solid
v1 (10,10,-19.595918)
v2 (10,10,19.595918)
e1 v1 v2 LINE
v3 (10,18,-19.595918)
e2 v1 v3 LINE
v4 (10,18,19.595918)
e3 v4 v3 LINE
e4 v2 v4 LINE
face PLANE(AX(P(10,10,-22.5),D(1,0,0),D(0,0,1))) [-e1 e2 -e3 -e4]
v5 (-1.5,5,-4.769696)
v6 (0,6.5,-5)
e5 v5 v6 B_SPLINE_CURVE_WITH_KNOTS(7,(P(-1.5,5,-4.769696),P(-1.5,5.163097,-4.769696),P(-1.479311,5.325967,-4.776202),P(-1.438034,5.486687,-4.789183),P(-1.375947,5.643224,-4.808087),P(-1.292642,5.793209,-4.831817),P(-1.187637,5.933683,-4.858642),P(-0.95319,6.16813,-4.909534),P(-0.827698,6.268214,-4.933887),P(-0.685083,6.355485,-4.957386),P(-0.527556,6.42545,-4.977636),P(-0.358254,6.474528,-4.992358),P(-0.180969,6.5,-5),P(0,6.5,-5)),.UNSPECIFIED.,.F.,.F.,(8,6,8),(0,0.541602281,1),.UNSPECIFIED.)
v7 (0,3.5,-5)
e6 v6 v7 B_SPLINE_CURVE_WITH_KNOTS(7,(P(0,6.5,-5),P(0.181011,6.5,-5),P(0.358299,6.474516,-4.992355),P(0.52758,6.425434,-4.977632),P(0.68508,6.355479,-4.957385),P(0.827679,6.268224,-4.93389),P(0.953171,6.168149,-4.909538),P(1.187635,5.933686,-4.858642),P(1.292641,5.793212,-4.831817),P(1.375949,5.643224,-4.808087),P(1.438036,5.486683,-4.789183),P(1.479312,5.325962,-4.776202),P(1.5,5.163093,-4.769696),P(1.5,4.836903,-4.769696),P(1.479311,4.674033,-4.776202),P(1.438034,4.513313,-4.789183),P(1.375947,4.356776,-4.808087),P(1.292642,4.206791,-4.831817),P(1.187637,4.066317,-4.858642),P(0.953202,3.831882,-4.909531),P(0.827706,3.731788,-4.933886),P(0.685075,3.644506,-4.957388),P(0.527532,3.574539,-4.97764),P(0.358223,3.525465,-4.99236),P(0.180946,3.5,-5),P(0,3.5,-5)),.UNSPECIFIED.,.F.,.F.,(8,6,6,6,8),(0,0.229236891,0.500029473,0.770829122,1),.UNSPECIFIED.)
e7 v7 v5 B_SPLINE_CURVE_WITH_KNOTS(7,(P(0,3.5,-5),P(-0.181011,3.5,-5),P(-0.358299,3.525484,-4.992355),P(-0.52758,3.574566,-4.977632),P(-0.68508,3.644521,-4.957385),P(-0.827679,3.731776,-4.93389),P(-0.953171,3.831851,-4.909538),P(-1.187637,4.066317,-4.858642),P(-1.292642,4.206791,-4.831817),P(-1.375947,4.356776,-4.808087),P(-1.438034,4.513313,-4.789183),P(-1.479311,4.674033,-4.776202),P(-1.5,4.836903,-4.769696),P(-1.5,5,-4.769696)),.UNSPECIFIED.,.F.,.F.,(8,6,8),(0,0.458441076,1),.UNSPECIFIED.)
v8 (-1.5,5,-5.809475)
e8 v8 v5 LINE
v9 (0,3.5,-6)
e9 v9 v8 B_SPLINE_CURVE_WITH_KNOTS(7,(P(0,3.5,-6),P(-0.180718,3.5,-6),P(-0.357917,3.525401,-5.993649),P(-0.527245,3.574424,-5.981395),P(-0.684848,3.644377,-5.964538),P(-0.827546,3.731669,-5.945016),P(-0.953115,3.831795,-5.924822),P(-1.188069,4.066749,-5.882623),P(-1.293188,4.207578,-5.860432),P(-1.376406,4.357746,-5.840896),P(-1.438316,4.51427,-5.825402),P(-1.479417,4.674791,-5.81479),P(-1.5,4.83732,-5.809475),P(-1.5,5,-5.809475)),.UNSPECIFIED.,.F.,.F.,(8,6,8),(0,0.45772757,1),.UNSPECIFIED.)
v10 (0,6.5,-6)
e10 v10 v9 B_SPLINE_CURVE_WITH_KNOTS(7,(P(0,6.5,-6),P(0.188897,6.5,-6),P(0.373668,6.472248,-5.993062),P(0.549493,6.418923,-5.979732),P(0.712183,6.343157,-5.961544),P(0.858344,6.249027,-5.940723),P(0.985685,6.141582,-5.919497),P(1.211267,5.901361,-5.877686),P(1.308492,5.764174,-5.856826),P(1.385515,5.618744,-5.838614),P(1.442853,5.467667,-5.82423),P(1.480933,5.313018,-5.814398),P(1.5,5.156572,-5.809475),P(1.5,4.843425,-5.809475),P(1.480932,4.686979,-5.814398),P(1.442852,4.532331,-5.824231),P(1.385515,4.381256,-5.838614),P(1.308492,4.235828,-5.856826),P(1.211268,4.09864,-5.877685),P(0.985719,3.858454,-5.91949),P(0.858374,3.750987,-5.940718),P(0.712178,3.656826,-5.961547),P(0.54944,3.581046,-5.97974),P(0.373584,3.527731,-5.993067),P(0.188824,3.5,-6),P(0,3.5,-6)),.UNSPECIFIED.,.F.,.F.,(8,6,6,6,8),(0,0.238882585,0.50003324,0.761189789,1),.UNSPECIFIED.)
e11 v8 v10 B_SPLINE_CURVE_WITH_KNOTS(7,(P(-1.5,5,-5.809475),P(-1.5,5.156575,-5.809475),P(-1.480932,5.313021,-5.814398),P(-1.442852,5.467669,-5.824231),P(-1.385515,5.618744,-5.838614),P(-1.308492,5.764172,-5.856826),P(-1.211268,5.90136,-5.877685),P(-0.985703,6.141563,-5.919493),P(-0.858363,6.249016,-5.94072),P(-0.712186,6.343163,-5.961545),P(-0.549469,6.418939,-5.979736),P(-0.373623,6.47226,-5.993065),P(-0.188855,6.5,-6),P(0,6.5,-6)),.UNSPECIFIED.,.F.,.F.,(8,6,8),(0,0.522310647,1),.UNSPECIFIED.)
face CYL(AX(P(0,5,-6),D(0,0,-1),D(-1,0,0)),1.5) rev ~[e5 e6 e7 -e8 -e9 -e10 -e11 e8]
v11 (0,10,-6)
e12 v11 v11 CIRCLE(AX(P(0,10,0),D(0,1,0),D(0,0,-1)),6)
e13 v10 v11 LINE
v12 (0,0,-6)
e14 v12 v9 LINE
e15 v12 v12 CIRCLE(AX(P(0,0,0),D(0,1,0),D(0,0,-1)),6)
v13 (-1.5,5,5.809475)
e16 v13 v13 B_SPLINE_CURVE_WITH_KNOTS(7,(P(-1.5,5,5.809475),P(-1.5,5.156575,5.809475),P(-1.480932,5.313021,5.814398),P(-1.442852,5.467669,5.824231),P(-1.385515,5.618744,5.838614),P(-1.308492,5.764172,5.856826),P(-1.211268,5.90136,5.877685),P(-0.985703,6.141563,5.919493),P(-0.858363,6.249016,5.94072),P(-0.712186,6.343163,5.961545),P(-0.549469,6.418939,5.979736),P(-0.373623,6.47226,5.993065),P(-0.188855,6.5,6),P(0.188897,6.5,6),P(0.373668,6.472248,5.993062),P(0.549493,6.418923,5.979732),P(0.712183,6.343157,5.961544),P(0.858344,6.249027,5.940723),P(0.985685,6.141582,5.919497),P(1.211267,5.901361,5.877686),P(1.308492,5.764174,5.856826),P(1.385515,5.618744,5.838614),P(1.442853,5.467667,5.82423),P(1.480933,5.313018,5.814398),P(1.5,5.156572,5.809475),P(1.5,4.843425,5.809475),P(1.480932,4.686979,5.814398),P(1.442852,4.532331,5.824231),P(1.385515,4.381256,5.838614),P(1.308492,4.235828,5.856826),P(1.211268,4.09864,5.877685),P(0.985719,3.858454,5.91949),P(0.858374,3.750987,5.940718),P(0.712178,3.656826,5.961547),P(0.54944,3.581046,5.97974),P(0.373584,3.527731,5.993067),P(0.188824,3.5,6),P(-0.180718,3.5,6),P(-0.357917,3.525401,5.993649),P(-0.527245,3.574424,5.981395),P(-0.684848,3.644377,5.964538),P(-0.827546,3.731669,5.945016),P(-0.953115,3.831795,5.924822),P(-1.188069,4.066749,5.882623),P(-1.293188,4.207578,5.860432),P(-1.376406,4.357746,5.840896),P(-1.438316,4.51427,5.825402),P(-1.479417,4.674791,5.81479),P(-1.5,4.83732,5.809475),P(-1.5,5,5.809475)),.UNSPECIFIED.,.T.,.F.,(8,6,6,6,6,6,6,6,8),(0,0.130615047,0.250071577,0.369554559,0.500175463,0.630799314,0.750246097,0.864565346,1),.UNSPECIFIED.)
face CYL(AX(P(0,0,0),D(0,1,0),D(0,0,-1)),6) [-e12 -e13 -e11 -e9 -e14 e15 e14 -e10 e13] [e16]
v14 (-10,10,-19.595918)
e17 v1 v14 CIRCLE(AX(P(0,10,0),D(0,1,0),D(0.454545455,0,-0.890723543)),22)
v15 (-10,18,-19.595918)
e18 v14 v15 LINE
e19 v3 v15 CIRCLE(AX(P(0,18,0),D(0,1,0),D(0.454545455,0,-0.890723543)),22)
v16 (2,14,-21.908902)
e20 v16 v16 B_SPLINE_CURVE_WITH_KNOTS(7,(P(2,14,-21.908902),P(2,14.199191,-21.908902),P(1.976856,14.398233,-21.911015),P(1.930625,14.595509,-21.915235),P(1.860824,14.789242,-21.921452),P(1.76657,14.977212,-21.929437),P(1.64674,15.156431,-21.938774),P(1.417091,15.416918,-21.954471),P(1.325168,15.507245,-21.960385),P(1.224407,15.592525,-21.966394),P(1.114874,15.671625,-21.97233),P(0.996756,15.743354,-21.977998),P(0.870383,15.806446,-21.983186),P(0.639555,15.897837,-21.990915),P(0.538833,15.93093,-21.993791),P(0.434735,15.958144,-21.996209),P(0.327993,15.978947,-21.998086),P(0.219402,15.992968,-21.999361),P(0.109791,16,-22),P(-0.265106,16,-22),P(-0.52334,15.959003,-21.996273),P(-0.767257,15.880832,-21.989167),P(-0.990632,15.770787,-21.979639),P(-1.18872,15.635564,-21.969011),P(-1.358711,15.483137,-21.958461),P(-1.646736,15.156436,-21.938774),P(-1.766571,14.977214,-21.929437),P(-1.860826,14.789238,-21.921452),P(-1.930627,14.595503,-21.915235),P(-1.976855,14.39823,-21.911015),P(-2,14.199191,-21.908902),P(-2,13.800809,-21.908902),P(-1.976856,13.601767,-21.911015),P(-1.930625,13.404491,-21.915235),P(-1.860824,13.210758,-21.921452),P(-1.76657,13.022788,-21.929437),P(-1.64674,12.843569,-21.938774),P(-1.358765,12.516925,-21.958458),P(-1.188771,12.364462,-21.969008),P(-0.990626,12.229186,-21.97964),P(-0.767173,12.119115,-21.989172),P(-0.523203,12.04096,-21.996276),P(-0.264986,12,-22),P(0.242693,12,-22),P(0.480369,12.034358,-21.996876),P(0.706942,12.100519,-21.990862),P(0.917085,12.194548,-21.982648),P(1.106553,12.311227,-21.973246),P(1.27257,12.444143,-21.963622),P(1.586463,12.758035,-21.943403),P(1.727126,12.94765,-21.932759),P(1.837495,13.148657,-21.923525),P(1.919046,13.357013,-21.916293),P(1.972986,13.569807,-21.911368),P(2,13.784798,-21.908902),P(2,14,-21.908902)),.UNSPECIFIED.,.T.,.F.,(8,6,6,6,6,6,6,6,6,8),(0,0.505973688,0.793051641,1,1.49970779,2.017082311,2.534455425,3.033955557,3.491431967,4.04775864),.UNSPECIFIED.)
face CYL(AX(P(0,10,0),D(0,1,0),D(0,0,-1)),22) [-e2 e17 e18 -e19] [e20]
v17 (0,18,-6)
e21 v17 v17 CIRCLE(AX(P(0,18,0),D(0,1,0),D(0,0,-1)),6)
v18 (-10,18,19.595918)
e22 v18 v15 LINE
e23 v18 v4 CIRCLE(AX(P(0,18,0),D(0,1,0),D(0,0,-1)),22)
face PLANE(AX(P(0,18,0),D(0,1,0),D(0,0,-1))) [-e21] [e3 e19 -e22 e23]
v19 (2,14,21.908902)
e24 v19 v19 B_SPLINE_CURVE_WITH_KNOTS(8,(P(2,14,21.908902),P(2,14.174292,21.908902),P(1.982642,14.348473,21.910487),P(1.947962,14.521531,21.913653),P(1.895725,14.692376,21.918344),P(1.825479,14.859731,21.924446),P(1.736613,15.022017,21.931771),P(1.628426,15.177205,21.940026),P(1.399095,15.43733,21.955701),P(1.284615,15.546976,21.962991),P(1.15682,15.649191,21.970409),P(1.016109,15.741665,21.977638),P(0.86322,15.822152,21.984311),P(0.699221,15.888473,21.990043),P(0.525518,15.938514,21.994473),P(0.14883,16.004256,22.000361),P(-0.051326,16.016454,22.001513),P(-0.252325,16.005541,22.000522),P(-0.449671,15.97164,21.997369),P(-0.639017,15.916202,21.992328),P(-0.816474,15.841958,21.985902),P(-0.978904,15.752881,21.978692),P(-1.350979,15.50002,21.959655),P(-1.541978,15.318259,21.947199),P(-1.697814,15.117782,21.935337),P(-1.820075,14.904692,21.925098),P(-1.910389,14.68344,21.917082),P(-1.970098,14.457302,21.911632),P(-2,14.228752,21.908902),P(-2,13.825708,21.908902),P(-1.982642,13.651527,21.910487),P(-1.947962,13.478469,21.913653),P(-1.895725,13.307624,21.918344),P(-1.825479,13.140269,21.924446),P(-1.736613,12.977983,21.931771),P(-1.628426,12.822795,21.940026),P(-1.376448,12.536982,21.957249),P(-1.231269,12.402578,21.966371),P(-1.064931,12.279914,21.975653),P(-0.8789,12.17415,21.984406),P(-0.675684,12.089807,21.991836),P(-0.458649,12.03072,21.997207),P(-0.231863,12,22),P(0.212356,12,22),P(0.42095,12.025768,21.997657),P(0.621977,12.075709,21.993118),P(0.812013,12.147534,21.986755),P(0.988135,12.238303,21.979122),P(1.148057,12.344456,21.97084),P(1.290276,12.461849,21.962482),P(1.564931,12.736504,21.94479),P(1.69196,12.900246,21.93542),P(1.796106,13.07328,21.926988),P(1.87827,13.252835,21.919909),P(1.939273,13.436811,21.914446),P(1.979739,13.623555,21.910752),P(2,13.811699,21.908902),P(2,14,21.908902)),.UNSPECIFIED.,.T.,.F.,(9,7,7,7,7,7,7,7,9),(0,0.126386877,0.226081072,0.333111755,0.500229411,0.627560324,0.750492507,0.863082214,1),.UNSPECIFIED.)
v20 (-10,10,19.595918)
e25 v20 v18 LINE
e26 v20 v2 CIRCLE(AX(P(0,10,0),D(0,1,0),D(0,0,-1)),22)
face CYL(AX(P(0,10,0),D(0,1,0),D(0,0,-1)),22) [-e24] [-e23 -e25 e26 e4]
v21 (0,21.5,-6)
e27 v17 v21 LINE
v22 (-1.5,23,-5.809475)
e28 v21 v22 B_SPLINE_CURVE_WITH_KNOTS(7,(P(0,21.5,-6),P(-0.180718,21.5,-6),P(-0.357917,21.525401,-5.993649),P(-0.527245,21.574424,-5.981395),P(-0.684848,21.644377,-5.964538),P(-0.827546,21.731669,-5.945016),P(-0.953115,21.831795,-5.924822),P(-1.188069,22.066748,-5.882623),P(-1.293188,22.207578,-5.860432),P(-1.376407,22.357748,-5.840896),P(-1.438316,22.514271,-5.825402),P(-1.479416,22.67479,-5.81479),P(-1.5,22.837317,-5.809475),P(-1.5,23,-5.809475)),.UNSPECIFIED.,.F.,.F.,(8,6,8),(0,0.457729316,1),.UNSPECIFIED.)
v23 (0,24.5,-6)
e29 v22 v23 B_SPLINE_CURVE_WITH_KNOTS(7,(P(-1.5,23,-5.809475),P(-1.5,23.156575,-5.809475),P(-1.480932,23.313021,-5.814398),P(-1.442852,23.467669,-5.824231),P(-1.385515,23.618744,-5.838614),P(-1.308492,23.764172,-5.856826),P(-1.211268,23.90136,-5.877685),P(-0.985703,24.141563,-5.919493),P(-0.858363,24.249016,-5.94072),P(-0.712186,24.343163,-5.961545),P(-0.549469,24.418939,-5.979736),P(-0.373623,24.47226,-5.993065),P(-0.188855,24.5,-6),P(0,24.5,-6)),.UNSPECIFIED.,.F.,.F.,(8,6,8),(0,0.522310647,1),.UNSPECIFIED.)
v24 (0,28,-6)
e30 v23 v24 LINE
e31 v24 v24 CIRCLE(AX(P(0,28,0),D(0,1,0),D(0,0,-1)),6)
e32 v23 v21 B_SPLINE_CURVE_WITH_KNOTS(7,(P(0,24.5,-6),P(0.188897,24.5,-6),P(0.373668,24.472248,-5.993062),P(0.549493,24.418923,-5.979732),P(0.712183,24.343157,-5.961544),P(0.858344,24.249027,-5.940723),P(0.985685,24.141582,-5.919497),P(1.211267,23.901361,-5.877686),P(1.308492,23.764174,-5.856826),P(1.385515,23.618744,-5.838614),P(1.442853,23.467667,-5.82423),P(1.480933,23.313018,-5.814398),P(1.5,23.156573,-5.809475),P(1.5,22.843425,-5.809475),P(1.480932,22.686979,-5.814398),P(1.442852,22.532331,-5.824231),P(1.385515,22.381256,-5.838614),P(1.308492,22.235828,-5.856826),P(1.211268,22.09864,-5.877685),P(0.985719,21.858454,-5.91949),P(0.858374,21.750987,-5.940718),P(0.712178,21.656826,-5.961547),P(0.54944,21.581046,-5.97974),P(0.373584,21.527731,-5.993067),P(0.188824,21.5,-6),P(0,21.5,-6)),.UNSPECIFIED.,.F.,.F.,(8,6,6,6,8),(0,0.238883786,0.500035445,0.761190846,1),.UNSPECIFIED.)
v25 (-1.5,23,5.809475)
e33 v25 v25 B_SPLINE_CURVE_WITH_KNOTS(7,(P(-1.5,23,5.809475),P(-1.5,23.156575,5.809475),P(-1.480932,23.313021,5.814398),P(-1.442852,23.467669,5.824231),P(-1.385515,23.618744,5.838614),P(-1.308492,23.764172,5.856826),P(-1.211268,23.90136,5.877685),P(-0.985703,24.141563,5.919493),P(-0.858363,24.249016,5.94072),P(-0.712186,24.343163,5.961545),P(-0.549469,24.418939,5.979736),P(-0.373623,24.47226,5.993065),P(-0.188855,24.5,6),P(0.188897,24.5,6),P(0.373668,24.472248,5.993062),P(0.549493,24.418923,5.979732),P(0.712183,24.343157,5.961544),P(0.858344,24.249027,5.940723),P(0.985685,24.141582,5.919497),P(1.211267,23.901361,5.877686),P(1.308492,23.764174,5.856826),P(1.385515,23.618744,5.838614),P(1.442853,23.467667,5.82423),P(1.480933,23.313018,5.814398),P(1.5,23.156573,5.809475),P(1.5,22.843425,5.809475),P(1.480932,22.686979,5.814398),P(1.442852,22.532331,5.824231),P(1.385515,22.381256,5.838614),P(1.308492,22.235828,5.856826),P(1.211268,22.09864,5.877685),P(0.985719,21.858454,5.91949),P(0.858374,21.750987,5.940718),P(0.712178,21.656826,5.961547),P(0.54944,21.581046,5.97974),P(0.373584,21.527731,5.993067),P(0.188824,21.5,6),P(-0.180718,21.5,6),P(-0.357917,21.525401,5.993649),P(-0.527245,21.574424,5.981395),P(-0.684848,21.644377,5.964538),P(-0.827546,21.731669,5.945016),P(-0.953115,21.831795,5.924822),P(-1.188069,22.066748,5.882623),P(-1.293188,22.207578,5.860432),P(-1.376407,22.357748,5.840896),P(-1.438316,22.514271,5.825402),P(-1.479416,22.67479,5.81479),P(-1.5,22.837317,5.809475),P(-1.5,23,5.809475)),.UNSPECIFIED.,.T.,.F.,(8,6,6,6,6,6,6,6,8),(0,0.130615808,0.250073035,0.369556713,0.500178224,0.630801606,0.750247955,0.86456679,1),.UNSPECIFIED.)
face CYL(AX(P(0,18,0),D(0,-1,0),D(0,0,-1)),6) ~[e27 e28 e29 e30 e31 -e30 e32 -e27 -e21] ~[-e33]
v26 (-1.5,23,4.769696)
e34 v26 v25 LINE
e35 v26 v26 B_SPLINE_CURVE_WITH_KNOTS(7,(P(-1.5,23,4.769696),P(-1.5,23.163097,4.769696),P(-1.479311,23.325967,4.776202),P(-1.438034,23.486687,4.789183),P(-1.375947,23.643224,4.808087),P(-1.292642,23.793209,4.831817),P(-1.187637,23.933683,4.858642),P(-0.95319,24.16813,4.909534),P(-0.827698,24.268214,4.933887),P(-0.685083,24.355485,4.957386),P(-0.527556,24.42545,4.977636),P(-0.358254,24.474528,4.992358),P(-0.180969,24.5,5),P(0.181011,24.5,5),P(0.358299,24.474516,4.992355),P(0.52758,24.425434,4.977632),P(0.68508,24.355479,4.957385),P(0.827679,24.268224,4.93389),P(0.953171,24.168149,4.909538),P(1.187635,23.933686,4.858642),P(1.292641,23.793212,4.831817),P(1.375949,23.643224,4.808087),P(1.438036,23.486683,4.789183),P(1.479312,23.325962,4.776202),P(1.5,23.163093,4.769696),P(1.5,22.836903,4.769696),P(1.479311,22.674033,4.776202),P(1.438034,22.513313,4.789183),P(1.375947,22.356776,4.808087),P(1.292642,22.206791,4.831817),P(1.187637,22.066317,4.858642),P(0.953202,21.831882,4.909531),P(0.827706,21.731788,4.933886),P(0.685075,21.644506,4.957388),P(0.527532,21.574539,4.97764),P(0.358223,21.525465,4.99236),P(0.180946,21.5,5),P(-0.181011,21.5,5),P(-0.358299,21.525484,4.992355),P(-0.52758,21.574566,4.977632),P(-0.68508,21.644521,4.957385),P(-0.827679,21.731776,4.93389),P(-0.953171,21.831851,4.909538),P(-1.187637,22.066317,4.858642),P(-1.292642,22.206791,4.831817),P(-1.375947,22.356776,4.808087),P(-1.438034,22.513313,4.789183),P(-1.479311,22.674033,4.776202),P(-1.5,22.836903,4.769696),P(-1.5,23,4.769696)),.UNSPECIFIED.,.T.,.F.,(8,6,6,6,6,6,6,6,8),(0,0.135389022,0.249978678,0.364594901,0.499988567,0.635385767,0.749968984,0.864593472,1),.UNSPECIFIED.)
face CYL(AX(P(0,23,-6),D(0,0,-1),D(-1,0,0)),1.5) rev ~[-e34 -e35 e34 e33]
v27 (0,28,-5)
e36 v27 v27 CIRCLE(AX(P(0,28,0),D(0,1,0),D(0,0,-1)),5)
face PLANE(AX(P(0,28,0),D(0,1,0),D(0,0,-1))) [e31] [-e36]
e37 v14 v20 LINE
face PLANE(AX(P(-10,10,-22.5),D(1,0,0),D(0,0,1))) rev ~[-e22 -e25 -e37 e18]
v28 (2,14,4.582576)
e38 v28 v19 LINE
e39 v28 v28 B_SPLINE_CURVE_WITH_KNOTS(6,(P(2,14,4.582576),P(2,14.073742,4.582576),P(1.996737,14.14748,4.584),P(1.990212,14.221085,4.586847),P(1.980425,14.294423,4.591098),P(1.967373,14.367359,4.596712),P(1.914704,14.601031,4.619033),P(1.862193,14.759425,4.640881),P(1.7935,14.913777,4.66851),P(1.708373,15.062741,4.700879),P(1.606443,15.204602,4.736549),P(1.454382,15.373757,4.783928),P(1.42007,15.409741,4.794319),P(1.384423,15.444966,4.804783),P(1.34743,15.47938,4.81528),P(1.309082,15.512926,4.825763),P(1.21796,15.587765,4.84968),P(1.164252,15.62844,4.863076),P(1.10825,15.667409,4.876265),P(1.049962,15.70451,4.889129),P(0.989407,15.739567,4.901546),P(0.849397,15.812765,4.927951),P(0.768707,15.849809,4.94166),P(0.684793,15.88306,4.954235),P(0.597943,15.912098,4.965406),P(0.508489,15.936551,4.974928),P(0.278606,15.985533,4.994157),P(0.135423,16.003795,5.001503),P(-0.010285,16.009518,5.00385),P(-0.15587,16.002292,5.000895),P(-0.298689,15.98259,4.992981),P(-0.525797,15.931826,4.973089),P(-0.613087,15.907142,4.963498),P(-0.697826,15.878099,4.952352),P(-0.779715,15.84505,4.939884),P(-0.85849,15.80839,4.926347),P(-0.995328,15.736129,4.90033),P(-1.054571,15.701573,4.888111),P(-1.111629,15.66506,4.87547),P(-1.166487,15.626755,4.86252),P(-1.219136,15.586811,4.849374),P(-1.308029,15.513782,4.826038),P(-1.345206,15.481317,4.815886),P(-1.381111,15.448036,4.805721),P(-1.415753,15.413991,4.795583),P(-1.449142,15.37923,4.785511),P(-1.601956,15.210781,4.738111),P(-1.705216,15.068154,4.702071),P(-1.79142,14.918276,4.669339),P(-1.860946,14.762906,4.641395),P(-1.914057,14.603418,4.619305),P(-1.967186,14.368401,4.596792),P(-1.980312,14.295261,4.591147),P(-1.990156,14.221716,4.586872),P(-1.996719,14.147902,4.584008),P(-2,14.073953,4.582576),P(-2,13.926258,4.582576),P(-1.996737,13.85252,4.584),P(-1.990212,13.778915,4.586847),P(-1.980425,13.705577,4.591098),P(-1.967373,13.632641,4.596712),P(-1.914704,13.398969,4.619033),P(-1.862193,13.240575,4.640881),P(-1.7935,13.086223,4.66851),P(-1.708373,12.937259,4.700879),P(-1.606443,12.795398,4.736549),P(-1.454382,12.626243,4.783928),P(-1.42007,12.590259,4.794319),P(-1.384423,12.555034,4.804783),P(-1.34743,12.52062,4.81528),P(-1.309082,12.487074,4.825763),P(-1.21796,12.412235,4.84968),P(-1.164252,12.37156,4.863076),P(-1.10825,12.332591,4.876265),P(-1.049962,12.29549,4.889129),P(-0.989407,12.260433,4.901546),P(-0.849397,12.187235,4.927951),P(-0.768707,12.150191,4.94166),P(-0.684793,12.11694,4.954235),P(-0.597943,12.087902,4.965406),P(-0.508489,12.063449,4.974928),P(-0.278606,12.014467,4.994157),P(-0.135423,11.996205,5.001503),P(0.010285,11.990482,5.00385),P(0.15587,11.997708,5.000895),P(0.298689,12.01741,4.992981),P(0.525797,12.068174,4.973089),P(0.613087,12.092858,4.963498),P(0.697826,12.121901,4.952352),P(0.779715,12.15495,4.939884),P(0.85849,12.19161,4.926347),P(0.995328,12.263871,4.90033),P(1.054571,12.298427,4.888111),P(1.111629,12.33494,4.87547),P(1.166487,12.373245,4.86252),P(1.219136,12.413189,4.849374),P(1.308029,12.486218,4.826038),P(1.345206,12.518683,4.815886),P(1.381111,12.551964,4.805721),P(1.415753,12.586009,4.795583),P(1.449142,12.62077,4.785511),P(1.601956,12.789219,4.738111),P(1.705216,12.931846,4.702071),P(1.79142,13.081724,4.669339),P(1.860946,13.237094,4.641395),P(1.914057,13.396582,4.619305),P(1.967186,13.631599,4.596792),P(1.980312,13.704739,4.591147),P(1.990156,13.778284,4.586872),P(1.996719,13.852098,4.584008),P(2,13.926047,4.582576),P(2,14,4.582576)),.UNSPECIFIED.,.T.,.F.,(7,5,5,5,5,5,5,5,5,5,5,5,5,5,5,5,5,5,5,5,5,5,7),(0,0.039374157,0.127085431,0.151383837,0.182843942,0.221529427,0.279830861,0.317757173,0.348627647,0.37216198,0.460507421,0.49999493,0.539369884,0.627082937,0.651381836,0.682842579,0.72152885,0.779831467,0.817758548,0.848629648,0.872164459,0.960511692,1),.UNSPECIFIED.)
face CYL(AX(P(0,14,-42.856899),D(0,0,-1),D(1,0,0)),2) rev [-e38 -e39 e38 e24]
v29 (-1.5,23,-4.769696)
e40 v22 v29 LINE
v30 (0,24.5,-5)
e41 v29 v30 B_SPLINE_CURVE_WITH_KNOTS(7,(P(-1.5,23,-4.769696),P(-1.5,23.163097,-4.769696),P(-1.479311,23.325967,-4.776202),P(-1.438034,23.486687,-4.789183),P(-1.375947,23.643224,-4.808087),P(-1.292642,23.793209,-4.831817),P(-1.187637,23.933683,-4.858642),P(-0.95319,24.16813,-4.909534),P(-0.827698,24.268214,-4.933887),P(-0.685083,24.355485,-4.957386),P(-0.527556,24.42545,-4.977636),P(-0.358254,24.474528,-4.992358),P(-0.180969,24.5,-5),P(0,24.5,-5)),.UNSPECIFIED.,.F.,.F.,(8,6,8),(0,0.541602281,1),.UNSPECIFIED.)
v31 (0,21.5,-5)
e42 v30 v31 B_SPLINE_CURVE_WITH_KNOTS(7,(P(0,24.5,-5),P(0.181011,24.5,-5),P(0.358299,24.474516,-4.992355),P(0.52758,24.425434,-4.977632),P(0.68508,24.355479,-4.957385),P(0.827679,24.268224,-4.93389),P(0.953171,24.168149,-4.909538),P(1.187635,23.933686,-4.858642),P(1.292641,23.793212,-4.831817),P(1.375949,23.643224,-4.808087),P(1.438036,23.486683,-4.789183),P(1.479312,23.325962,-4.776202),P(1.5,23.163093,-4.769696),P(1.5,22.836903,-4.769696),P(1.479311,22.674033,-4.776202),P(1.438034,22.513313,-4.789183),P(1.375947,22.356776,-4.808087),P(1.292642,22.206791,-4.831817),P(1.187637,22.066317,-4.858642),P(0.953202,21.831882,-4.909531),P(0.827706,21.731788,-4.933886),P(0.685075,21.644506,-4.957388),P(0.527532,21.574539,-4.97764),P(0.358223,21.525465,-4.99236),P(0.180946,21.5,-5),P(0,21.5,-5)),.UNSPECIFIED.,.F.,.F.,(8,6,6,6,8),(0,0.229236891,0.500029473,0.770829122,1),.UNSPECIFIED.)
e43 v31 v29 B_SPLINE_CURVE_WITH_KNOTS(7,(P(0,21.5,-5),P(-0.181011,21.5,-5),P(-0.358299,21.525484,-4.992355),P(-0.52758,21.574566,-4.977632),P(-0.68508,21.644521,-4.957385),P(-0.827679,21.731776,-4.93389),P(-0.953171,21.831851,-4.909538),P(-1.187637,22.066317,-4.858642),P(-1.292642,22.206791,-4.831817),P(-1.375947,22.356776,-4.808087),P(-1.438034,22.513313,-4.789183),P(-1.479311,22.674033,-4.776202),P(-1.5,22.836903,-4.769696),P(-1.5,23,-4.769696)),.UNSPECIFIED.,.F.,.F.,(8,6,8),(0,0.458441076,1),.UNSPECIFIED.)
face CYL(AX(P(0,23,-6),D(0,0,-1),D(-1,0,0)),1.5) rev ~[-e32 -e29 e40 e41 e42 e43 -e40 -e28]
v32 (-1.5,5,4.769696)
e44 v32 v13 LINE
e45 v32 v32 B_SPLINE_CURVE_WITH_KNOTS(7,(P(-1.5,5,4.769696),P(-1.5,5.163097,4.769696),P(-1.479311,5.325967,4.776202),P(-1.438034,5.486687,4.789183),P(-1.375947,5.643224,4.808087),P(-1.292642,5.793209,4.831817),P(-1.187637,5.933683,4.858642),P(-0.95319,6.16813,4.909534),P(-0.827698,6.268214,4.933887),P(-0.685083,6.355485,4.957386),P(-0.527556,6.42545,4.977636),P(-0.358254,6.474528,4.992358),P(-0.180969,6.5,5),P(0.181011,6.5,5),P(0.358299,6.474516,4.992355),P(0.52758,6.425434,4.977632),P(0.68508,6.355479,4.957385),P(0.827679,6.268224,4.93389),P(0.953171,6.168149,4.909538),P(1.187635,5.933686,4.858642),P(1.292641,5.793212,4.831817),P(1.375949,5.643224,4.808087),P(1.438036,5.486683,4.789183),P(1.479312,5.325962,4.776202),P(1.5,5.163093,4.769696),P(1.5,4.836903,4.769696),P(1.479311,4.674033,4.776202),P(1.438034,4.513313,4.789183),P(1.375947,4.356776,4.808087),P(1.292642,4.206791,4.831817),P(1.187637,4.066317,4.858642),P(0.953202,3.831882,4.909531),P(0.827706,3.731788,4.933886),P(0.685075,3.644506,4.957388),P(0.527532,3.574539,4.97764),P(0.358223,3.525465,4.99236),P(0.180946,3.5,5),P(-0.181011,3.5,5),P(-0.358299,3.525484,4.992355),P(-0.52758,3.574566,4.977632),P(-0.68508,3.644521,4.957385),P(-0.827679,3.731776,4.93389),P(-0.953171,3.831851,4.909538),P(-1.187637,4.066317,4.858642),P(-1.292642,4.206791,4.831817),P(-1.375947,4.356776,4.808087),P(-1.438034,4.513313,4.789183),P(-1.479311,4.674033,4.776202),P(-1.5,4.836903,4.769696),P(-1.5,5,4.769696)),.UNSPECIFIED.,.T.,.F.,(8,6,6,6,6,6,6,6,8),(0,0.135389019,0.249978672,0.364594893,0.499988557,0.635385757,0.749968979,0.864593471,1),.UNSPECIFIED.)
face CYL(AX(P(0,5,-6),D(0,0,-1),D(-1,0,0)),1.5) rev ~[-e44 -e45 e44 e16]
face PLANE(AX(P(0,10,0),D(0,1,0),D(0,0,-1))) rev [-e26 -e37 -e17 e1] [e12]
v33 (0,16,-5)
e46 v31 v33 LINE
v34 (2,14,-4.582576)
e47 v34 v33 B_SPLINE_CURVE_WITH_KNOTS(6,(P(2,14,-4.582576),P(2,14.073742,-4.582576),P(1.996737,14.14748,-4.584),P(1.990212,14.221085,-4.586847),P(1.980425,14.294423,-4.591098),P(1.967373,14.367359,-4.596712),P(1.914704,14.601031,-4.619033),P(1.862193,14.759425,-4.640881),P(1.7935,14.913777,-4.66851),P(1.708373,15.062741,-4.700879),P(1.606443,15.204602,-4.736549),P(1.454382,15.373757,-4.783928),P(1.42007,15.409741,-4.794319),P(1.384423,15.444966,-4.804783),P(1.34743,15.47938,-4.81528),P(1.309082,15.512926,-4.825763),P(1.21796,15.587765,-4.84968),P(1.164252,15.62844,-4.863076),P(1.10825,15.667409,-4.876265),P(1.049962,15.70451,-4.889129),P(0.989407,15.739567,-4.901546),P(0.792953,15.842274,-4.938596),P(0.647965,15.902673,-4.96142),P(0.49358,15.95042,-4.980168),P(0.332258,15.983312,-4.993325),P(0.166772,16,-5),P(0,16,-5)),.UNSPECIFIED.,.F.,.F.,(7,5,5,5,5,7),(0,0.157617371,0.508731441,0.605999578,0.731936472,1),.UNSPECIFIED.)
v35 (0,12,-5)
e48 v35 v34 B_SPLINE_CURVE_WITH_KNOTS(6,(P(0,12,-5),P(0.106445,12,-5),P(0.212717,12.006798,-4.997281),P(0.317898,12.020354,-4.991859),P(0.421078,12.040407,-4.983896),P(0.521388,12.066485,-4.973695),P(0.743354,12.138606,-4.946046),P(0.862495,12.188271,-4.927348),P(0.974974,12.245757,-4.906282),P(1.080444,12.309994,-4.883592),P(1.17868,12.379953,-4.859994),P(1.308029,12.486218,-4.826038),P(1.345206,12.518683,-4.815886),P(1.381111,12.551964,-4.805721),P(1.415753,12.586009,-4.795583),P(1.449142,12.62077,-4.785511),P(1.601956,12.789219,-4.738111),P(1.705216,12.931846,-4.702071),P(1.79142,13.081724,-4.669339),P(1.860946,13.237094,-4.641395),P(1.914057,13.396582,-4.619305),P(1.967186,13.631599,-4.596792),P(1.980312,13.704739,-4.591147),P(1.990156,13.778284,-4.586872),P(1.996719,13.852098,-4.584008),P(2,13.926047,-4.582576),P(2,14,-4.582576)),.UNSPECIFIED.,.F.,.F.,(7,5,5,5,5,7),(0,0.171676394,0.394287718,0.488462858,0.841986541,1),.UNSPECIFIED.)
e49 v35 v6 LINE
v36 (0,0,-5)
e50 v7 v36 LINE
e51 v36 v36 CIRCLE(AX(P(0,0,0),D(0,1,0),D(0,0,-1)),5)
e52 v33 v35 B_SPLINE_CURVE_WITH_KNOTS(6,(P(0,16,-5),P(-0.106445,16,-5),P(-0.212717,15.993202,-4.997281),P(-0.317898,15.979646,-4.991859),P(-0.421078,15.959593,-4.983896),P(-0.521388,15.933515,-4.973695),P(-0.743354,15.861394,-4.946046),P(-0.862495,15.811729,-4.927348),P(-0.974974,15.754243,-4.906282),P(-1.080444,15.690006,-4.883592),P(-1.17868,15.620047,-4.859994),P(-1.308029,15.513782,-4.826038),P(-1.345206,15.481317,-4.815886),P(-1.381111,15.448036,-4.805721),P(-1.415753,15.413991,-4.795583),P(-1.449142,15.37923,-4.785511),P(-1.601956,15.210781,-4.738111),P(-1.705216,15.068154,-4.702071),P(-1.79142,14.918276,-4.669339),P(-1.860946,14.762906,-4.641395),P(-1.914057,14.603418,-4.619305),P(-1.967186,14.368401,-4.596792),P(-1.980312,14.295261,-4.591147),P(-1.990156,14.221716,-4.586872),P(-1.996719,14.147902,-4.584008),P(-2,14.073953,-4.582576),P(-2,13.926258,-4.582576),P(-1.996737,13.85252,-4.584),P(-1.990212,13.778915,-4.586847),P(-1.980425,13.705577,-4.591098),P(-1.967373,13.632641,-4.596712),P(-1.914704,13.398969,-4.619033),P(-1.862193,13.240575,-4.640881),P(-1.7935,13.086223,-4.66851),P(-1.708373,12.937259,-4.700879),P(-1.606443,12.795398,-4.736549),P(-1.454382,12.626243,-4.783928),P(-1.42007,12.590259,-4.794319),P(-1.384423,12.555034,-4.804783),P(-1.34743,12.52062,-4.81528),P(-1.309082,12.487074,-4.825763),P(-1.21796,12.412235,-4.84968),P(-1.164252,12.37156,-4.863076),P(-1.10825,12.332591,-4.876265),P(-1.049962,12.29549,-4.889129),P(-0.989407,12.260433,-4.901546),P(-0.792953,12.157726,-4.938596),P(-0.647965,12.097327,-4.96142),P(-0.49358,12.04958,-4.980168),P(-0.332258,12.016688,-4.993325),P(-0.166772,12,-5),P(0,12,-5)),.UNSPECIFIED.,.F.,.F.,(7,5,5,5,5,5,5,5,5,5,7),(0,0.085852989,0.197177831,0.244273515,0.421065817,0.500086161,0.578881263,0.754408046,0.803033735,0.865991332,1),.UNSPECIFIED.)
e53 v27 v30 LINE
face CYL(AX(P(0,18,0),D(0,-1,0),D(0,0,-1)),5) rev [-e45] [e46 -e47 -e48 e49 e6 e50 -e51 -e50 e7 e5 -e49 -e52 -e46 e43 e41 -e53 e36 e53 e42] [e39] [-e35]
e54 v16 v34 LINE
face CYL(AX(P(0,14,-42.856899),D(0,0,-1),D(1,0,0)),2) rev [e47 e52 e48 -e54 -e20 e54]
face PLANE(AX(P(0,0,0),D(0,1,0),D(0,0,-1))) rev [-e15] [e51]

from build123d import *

# Parameters (mm, degrees)
SKETCH2_R               = 6
SKETCH2_R_2             = 5
BOSS_EXTRUDE1_DEPTH     = 10
SKETCH3_R               = 1.5
CUT_EXTRUDE1_DEPTH      = 46.299006612
CUT_EXTRUDE2_DEPTH      = 42.85689914
CUT_EXTRUDE2_DEPTH_BACK = 42.85689914
SKETCH4_R               = 2
SKETCH5_W               = 20
SKETCH5_H               = 45
CUT_EXTRUDE3_DEPTH      = 10


with BuildPart() as part:
    # Sketch1 → Revolve1 (revolve)
    with BuildSketch(Plane.XY, mode=Mode.PRIVATE) as revolve1_sk:
        Polygon((5, 0), (6, 0), (6, 10), (22, 10), (22, 18), (5, 18), (5, 13), align=None)
    revolve(revolve1_sk.sketch.rotate(Axis((0, 0, 0), (0, 1, 0)), 90), axis=Axis((0, 0, 0), (0, 1, 0)))

    # Sketch2 → Boss-Extrude1 (add)
    with BuildSketch(Plane(origin=(0, 18, 0), x_dir=(1, 0, 0), z_dir=(0, 1, 0))):
        with Locations(Location((0, 0, 0), (0, 0, 90))):
            Circle(SKETCH2_R)
        with Locations(Location((0, 0, 0), (0, 0, 90))):
            Circle(SKETCH2_R_2, mode=Mode.SUBTRACT)
    extrude(amount=BOSS_EXTRUDE1_DEPTH)

    # Sketch3 → Cut-Extrude1 (cut, through all)
    with BuildSketch(Plane(origin=(0, 0, -6), x_dir=(-1, 0, 0), z_dir=(0, 0, -1))):
        with Locations((0, 5)):
            Circle(SKETCH3_R)
        with Locations((0, 23)):
            Circle(SKETCH3_R)
    extrude(amount=-CUT_EXTRUDE1_DEPTH, mode=Mode.SUBTRACT)

    # Sketch4 → Cut-Extrude2 (cut, two sides: drawn at the far end of the back side and taken through both)
    with BuildSketch(Plane.XY.offset(-CUT_EXTRUDE2_DEPTH_BACK)):
        with Locations((0, 14)):
            Circle(SKETCH4_R)
    extrude(amount=CUT_EXTRUDE2_DEPTH + CUT_EXTRUDE2_DEPTH_BACK, mode=Mode.SUBTRACT)

    # Sketch5 → Cut-Extrude3 (cut)
    with BuildSketch(Plane.XZ.offset(-10)):
        with Locations((-20, 0)):
            Rectangle(SKETCH5_W, SKETCH5_H)
        with Locations((20, 0)):
            Rectangle(SKETCH5_W, SKETCH5_H)
    extrude(amount=-CUT_EXTRUDE3_DEPTH, mode=Mode.SUBTRACT)


solid = part.part
